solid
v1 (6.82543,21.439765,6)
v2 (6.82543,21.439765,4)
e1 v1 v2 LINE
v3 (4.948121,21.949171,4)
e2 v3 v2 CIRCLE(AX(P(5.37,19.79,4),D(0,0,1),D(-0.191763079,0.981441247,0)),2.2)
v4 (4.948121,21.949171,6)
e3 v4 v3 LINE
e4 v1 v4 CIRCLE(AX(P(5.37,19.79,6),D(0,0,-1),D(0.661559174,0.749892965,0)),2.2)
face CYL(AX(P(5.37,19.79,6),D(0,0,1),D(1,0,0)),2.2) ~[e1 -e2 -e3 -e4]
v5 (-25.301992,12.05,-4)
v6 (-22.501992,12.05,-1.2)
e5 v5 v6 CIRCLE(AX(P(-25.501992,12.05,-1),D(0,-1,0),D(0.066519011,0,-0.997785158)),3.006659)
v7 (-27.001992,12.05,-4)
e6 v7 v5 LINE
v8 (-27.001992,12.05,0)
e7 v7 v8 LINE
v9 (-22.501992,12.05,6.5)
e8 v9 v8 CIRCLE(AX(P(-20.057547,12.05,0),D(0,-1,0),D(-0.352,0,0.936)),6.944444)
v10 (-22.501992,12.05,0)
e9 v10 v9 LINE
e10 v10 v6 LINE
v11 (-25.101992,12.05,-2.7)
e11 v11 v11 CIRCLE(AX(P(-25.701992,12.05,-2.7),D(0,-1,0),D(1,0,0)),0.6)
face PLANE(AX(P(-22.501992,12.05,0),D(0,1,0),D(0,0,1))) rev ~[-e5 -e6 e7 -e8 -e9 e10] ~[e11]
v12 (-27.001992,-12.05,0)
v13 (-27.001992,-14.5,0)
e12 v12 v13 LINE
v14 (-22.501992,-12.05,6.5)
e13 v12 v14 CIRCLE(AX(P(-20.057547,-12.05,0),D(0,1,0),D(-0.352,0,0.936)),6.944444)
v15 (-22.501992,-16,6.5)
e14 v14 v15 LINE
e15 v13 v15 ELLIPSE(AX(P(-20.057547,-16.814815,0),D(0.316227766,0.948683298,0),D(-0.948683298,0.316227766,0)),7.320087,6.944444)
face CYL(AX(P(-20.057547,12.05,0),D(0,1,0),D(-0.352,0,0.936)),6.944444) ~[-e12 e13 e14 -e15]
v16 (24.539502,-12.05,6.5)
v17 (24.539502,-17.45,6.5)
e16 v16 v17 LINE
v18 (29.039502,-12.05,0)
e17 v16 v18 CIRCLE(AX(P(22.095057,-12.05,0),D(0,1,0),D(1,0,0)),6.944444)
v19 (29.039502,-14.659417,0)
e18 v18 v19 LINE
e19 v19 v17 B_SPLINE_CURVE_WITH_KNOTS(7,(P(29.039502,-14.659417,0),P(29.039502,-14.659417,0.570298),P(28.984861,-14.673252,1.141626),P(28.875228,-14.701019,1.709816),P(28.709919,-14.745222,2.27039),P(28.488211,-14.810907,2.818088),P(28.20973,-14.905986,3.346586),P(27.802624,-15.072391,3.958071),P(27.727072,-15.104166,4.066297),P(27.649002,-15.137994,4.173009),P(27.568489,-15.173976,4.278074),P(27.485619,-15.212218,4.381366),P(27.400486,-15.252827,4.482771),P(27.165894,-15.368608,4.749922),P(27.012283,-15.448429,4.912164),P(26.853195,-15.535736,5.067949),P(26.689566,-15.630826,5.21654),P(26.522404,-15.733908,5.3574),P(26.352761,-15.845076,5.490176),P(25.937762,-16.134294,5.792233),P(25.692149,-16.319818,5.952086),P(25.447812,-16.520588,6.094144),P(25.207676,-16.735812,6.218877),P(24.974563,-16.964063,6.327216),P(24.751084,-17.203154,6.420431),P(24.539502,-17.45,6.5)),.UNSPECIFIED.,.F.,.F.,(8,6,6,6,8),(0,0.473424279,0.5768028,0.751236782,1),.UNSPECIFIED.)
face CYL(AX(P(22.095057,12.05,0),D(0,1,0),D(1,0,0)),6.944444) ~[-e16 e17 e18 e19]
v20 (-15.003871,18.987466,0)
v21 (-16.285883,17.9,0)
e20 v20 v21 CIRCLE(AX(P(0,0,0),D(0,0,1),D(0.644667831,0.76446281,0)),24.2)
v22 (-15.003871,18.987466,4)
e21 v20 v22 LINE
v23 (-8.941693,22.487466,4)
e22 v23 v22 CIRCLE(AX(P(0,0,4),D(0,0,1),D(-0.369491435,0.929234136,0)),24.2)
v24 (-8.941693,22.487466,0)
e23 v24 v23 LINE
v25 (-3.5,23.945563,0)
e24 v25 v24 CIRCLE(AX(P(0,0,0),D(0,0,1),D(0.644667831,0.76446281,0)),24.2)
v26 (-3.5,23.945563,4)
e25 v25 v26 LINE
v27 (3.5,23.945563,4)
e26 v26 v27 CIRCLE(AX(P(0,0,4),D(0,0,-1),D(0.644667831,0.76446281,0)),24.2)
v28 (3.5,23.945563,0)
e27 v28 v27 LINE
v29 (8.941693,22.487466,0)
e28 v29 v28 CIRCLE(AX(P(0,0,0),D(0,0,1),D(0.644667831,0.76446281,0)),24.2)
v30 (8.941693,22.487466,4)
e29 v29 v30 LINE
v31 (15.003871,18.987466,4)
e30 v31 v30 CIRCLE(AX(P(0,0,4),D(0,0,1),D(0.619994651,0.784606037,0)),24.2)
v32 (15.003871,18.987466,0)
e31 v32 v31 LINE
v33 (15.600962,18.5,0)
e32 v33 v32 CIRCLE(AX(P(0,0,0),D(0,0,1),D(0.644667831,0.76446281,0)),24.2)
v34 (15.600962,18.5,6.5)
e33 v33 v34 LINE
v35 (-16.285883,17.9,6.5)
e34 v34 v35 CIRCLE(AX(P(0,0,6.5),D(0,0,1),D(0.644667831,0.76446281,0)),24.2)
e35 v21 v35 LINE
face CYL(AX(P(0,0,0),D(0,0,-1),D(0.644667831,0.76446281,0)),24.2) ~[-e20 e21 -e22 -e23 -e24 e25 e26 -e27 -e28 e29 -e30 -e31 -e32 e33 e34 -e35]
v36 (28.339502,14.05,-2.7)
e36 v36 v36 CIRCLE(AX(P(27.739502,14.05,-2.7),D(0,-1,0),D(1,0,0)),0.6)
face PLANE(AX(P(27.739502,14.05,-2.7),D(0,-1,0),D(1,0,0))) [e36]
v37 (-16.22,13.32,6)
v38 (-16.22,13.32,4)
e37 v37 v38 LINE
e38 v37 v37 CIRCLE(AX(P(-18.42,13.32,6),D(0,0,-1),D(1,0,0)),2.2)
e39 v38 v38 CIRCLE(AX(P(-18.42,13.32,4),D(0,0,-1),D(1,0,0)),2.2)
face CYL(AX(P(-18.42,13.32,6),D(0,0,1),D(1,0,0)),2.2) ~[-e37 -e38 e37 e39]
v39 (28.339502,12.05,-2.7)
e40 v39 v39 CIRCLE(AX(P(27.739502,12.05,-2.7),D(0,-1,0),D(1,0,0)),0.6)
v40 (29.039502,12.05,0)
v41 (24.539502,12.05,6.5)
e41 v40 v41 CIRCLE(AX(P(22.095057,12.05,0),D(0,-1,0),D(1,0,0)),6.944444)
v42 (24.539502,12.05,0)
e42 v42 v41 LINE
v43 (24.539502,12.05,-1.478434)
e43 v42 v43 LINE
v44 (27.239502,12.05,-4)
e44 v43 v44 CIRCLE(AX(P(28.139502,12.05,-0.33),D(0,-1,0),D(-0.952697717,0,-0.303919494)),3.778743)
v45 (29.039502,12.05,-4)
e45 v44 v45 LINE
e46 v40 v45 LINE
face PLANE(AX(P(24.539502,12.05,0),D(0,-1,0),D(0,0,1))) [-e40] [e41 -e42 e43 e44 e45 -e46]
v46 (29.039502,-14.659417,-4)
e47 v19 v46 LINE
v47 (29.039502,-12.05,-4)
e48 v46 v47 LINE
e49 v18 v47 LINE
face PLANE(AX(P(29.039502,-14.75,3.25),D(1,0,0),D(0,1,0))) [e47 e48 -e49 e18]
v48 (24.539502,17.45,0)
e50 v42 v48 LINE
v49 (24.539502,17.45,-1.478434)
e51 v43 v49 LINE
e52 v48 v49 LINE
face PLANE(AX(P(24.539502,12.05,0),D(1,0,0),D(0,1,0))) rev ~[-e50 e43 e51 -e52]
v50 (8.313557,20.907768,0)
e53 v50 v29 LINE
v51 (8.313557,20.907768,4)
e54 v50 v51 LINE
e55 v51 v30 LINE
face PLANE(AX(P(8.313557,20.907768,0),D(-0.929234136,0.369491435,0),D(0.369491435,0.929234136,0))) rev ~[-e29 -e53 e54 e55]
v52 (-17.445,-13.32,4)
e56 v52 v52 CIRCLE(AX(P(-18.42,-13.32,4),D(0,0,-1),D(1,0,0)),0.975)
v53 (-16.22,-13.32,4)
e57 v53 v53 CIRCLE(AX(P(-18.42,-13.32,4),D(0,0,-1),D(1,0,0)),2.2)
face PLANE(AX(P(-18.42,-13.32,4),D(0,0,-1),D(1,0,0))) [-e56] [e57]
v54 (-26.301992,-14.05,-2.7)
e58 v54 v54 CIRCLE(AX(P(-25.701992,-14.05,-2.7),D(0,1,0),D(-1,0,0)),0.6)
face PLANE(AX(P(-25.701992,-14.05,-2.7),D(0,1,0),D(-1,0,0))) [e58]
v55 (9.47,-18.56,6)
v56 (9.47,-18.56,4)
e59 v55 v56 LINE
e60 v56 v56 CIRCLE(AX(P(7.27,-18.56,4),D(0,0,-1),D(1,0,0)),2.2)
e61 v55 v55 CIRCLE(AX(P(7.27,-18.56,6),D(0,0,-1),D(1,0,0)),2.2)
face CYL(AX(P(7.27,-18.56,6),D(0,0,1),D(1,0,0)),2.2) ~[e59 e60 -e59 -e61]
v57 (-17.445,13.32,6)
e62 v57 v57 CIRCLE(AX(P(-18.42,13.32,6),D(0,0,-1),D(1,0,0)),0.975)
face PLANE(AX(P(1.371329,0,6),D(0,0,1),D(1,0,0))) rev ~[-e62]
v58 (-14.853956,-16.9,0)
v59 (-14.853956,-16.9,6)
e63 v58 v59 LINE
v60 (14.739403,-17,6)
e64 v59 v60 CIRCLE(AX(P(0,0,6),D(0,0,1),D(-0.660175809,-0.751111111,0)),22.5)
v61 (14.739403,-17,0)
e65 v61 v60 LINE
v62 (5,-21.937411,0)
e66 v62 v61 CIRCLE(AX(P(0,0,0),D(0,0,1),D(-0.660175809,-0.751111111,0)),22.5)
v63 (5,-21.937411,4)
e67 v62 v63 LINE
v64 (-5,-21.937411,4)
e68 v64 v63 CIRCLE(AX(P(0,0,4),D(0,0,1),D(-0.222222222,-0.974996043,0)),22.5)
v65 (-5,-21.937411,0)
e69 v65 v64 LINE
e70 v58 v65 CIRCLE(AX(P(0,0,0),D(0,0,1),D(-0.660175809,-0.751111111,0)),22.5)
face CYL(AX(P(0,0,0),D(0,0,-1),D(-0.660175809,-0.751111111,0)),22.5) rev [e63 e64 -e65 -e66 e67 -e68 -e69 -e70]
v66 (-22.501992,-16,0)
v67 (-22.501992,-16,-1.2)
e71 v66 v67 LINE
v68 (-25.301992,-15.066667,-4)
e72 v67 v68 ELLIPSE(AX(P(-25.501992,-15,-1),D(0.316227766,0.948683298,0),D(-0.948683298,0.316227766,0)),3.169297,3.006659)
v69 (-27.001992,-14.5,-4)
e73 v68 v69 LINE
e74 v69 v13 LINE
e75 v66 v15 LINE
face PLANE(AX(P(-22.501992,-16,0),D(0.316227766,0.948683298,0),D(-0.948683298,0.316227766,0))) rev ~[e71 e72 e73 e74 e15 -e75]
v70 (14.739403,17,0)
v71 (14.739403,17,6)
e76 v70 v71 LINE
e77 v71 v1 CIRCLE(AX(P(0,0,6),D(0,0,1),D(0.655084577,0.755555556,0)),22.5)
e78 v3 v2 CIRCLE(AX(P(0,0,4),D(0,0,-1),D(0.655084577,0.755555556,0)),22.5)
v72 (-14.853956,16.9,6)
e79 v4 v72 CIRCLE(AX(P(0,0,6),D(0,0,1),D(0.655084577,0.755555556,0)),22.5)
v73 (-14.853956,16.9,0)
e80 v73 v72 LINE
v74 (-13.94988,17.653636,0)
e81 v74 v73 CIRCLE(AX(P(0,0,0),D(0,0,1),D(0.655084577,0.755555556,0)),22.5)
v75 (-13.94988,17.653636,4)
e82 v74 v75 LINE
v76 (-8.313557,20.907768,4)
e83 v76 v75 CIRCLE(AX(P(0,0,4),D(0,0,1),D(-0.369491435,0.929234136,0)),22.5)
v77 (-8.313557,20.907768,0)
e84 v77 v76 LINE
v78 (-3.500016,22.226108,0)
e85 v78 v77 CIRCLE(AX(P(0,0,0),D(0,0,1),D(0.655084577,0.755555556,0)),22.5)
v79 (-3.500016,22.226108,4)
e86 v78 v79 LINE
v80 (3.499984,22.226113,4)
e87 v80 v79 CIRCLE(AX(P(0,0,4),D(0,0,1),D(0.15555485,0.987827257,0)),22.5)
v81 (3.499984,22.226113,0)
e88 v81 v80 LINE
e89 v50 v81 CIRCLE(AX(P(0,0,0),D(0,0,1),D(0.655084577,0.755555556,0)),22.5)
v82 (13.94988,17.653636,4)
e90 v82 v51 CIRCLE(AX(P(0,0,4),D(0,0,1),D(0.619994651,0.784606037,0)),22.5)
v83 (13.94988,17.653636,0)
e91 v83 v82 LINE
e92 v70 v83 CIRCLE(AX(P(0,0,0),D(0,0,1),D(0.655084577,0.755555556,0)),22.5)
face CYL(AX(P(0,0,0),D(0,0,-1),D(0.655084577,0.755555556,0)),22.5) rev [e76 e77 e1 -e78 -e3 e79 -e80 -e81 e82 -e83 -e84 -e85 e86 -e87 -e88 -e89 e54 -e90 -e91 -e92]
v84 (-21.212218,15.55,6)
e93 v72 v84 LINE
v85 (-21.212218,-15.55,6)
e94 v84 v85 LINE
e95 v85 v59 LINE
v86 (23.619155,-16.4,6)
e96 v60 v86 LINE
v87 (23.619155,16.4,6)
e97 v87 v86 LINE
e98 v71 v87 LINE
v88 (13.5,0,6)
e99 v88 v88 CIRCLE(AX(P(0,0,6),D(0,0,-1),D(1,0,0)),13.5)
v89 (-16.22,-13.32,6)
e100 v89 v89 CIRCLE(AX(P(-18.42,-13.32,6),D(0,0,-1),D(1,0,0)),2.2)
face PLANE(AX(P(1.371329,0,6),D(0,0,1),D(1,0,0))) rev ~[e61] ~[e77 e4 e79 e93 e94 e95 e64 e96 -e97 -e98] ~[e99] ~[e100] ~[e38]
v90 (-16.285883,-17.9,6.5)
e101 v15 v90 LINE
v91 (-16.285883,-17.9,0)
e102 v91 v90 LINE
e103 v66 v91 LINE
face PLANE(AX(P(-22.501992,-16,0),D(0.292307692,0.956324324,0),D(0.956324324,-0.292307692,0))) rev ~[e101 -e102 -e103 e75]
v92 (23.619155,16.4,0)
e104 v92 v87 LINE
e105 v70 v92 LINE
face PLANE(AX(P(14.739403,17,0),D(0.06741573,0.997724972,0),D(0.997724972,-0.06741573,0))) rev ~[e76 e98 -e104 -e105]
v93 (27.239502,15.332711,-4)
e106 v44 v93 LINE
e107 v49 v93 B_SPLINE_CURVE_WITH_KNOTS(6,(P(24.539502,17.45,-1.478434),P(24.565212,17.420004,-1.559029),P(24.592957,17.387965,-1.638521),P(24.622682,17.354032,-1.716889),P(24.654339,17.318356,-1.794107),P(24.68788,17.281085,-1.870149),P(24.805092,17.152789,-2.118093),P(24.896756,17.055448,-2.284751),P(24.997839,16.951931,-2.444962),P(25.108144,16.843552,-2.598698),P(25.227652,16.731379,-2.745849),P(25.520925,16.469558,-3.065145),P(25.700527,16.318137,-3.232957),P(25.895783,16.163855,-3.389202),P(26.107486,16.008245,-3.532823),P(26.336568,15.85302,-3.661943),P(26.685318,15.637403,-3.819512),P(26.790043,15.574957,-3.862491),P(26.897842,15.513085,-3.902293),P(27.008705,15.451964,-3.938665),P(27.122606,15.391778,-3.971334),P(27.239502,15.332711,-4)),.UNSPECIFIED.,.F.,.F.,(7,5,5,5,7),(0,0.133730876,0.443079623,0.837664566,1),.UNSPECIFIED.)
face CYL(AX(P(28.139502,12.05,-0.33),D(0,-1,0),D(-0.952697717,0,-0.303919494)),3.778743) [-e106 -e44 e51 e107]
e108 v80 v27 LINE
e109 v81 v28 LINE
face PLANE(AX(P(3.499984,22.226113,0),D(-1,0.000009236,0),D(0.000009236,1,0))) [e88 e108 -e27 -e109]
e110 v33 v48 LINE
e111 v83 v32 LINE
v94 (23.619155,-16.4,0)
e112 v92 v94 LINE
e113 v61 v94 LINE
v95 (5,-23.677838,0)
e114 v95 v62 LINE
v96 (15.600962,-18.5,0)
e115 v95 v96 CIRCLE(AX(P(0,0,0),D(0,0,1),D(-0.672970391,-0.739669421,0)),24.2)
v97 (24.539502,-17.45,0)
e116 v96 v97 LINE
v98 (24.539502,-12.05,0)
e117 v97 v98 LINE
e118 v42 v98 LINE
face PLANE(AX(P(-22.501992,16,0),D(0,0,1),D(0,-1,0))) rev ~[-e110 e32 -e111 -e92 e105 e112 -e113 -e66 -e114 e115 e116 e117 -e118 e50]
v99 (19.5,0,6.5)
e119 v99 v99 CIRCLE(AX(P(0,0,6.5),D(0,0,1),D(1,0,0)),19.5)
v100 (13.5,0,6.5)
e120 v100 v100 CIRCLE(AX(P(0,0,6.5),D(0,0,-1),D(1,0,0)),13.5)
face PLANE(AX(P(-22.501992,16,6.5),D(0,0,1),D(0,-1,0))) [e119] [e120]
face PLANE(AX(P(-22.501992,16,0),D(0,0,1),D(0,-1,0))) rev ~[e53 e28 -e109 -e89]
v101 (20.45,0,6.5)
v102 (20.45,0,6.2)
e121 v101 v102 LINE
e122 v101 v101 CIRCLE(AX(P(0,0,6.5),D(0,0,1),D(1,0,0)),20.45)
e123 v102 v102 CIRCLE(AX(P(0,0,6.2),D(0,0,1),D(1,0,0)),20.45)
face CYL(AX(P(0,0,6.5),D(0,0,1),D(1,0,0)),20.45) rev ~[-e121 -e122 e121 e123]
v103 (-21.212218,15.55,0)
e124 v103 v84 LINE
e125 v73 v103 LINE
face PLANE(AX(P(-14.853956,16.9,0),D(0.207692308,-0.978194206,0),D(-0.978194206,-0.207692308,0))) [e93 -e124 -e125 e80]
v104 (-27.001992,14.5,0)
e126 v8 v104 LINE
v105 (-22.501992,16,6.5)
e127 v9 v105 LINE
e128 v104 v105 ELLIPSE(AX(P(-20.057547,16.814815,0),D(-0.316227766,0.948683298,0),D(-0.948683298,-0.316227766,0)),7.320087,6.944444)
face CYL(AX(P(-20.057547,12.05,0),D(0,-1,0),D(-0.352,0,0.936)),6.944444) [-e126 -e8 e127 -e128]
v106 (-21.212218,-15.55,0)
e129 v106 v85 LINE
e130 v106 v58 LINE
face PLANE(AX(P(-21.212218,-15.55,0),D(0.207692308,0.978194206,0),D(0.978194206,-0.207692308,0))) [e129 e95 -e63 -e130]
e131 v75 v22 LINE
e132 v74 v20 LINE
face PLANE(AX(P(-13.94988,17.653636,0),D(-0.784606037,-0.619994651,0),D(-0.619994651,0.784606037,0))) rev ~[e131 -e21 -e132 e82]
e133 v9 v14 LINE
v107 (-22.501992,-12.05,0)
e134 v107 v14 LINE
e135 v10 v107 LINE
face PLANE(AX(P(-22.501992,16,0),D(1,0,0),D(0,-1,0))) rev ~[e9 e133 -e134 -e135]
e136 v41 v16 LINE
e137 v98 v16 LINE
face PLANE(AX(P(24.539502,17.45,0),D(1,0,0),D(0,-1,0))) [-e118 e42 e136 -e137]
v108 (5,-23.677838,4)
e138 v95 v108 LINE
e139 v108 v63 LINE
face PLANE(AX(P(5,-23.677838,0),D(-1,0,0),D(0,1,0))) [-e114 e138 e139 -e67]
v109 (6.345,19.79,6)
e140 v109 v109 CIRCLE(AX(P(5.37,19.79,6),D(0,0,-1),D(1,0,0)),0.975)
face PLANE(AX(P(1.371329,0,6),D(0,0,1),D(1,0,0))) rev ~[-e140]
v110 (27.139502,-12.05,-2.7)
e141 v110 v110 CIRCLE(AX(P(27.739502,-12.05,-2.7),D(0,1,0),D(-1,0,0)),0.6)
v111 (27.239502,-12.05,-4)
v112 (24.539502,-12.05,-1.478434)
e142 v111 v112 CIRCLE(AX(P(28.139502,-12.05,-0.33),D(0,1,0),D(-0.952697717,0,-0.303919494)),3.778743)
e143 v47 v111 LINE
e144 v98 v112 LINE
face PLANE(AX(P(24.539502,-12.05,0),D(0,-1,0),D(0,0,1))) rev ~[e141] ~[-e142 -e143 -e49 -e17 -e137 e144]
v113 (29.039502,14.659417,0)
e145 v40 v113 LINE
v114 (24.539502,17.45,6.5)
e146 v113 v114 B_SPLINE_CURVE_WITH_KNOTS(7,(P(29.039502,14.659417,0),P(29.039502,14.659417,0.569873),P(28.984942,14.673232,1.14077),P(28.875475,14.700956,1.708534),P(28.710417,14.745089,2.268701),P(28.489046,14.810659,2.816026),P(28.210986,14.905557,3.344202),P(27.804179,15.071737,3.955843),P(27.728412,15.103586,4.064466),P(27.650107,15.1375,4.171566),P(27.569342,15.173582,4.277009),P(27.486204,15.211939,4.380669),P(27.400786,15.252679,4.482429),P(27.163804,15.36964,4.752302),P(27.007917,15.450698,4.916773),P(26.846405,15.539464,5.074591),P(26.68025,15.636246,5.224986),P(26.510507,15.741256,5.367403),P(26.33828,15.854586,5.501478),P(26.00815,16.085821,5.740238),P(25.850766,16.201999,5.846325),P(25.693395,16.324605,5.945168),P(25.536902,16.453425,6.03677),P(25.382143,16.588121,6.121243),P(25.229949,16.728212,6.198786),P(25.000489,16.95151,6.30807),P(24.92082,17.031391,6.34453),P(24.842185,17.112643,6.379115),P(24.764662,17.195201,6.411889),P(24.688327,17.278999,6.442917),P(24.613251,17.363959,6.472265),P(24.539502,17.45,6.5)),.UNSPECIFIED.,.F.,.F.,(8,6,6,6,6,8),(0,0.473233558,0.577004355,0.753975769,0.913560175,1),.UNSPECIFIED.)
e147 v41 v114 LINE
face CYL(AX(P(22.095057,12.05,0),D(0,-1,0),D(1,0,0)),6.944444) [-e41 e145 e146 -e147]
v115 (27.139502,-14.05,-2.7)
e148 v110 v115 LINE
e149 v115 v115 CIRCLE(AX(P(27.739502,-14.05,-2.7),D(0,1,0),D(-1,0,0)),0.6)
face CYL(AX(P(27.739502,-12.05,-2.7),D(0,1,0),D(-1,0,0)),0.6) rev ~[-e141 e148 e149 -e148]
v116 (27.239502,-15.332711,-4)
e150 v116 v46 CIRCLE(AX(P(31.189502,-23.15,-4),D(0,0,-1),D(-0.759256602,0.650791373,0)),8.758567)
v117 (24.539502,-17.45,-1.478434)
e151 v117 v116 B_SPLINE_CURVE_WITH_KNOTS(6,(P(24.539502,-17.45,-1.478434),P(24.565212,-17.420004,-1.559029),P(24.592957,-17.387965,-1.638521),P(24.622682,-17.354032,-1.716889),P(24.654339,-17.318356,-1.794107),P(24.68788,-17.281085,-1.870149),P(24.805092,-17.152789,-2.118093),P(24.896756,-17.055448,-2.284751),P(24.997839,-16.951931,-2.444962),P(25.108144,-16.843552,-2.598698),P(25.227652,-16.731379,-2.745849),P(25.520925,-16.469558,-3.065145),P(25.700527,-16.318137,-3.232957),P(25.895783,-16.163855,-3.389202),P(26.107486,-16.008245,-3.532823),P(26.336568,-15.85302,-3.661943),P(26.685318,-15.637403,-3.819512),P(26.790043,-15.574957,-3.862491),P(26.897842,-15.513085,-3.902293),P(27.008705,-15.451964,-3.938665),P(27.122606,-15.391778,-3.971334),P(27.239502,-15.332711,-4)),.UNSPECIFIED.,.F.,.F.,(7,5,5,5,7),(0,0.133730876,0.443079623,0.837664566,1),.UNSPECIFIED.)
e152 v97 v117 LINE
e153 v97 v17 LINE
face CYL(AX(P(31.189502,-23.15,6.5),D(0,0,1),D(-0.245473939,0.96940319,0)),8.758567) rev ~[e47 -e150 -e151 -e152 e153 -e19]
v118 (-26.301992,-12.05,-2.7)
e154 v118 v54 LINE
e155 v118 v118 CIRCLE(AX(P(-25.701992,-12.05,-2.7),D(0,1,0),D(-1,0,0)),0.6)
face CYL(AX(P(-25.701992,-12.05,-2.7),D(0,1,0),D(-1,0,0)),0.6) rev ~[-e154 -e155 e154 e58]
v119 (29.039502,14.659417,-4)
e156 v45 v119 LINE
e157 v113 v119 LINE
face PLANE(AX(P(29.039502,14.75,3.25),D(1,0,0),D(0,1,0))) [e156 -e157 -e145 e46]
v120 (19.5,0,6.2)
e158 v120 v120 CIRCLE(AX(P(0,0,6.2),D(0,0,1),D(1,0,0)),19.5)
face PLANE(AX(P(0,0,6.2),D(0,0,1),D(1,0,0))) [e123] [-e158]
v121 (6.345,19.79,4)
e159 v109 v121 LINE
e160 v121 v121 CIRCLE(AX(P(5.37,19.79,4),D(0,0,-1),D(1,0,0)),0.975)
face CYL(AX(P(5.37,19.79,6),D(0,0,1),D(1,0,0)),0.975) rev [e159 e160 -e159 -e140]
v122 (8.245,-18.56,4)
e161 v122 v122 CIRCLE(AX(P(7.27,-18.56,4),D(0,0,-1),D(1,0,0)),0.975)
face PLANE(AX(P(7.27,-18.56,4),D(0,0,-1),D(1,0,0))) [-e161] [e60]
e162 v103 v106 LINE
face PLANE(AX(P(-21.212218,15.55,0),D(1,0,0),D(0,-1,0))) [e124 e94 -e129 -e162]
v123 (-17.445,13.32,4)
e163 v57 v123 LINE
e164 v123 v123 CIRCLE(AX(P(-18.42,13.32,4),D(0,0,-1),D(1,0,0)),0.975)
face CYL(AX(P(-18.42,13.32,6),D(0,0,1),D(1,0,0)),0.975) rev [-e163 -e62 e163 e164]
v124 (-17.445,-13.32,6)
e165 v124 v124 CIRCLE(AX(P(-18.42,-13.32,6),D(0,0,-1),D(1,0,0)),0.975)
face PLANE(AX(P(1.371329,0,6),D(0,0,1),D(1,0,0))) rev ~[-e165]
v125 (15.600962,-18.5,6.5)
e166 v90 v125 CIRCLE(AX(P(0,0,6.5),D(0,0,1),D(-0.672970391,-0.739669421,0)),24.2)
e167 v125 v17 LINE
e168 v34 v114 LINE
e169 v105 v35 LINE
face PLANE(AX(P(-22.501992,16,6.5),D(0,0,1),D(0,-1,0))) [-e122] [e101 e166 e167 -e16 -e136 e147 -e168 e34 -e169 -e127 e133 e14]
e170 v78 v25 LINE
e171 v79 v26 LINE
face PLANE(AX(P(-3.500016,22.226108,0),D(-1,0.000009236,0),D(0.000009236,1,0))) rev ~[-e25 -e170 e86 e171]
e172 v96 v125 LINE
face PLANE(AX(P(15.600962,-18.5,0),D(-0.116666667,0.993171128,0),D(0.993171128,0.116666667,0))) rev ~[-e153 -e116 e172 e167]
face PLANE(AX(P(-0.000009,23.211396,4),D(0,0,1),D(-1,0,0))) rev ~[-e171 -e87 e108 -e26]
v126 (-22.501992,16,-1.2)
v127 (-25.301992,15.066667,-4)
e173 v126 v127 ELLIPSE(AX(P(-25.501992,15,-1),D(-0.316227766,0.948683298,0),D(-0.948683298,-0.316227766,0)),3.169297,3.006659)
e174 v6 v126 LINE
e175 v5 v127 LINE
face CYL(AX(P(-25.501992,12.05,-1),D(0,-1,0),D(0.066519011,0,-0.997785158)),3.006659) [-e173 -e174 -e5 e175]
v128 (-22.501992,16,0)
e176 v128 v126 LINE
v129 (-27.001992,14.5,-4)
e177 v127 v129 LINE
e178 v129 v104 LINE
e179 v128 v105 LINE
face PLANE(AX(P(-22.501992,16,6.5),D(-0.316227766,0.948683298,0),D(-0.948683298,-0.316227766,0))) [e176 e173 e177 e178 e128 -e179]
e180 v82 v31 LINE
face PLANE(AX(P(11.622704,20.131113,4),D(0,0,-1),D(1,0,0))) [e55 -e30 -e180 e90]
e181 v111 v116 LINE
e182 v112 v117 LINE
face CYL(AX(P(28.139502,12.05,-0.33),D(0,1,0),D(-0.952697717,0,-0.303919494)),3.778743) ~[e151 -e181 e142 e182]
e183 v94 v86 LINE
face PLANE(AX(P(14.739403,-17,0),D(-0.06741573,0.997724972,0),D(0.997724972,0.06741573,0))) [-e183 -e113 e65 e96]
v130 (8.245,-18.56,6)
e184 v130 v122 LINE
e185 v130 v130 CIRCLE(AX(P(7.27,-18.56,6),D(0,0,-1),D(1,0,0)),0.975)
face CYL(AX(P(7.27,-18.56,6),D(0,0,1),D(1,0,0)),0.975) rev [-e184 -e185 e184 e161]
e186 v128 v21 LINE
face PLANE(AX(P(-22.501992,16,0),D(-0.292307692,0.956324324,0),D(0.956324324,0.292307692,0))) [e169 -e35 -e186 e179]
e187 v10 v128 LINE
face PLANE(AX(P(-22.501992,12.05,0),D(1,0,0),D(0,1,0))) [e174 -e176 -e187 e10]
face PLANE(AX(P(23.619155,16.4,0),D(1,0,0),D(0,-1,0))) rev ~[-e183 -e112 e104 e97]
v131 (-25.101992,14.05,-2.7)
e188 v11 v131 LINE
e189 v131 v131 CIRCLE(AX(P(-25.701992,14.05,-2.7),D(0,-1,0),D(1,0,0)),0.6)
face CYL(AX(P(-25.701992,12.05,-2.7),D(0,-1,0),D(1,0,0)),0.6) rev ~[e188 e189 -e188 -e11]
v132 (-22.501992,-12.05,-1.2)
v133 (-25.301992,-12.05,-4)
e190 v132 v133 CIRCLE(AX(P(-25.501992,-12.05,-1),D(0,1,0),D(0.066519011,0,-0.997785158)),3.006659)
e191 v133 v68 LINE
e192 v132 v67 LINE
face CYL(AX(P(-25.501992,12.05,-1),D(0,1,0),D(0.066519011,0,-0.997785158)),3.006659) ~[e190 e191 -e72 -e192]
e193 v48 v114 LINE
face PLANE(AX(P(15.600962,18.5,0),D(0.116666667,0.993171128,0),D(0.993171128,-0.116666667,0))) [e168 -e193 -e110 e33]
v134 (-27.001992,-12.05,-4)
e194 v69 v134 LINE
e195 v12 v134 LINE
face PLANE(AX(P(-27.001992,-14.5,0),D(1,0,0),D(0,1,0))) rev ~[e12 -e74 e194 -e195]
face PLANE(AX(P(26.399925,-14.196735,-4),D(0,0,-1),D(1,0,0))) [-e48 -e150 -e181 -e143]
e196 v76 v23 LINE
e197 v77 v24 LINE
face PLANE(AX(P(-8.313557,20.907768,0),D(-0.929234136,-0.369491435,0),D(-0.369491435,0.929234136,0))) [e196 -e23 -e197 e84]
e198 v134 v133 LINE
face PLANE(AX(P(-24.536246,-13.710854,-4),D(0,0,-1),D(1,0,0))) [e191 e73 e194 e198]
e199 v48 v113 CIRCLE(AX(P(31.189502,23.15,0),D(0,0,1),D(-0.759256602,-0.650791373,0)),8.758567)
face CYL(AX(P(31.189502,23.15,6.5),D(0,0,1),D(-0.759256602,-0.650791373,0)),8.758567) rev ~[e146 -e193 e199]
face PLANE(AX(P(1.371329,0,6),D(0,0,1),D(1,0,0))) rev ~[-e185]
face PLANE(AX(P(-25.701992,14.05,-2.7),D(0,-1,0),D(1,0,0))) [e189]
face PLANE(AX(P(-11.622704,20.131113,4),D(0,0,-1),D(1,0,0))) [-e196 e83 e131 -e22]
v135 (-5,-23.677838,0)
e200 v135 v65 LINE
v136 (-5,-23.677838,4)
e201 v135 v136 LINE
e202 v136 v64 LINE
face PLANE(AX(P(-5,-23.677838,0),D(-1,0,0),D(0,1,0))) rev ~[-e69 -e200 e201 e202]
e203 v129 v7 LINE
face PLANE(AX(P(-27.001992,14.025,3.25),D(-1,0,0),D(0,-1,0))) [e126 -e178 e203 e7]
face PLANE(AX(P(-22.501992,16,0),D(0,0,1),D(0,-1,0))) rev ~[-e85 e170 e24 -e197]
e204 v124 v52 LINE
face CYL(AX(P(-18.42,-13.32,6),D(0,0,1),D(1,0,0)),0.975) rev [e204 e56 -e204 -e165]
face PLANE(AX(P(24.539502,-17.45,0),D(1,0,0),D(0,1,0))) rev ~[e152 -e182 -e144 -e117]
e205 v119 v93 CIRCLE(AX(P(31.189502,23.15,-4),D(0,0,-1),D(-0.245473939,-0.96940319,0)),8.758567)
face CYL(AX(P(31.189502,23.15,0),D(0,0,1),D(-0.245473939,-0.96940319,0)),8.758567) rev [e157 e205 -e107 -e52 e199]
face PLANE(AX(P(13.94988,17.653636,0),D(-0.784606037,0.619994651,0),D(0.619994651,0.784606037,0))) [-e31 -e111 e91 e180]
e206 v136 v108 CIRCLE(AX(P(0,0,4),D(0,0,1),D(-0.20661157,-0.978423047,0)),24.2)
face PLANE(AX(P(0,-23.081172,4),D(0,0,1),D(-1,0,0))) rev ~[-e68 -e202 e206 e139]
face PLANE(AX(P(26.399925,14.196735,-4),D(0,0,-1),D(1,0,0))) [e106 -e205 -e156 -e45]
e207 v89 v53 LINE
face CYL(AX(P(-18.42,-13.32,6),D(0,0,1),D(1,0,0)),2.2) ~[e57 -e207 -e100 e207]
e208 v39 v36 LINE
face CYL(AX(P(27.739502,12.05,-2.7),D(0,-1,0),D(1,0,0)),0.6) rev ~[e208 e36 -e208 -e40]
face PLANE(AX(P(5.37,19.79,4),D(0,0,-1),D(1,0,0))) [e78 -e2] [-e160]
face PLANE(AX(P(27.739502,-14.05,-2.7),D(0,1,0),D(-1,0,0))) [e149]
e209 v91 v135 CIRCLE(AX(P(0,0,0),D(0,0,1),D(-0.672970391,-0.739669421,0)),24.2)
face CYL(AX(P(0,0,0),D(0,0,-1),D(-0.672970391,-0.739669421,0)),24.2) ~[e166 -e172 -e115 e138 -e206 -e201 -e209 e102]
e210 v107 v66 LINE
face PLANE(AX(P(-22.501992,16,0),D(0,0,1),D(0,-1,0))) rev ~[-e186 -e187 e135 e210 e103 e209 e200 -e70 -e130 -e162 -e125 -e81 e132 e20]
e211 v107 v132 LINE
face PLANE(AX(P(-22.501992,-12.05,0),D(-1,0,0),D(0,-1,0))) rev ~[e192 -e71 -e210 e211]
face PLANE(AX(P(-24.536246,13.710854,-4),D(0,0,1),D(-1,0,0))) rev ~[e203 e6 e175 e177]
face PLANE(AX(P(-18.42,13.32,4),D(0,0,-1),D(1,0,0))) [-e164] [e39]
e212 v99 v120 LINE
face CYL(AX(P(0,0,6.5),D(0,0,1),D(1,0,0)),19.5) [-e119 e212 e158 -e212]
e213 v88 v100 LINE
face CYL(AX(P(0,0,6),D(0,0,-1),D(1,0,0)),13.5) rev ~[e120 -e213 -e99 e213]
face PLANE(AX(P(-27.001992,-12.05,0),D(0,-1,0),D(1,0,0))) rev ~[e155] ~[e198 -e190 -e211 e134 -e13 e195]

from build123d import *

# Parameters (mm, degrees)
PAD_DEPTH            = 6.5
POCKET_DEPTH         = 6
SKETCH002_R          = 13.5
POCKET001_DEPTH      = 1
SKETCH003_W          = 5.4
SKETCH003_H          = 6.5
PAD001_DEPTH         = 4.5
POCKET002_DEPTH      = 10
SKETCH010_W          = 3.95
SKETCH010_H          = 6.5
PAD002_DEPTH         = 4.5
POCKET005_DEPTH      = 10
SKETCH014_R          = 20.45
SKETCH014_R_2        = 19.5
POCKET008_DEPTH      = 0.3
SKETCH015_R          = 2.2
SKETCH015_R_2        = 0.975
PAD003_DEPTH         = 2
POCKET009_DEPTH      = 4
POCKET010_DEPTH      = 4
PAD004_DEPTH         = 4
SKETCH019_R          = 0.6
POCKET011_DEPTH      = 2
SKETCH020_R          = 0.6
POCKET012_DEPTH      = 2
POCKET013_DEPTH      = 12.151
POCKET013_DEPTH_BACK = 36.251


with BuildPart() as part:
    # Sketch → Pad (new body)
    with BuildSketch(Plane.XY):
        with BuildLine():
            Line((-22.5019915649, 16), (-22.5019915649, -16))
            Line((-22.5019915649, -16), (-16.2858834578, -17.9))
            ThreePointArc((-16.2858834578, -17.9), (-0.4552796053, -24.1957169863), (15.6009615088, -18.5))
            Line((15.6009615088, -18.5), (24.5395016581, -17.45))
            Line((24.5395016581, 17.45), (24.5395016581, -17.45))
            Line((15.6009615088, 18.5), (24.5395016581, 17.45))
            ThreePointArc((15.6009615088, 18.5), (-0.4552796053, 24.1957169863), (-16.2858834578, 17.9))
            Line((-22.5019915649, 16), (-16.2858834578, 17.9))
        make_face()
    extrude(amount=PAD_DEPTH)

    # Sketch001 → Pocket (cut)
    with BuildSketch(Plane.XY):
        with BuildLine():
            Line((-14.8539557021, 16.9), (-21.2122180433, 15.55))
            Line((-21.2122180433, 15.55), (-21.2122180433, -15.55))
            Line((-21.2122180433, -15.55), (-14.8539557021, -16.9))
            ThreePointArc((-14.8539557021, -16.9), (-0.0760301383, -22.4998715423), (14.739402973, -17))
            Line((14.739402973, -17), (23.6191552218, -16.4))
            Line((23.6191552218, 16.4), (23.6191552218, -16.4))
            Line((14.739402973, 17), (23.6191552218, 16.4))
            ThreePointArc((14.739402973, 17), (-0.0760301383, 22.4998715423), (-14.8539557021, 16.9))
        make_face()
    extrude(amount=POCKET_DEPTH, mode=Mode.SUBTRACT)

    # Sketch002 (on Face19 of Pocket) → Pocket001 (cut)
    with BuildSketch(Plane(origin=(0, 0, 6), x_dir=(1, 0, 0), z_dir=(0, 0, -1))):
        Circle(SKETCH002_R)
    extrude(amount=-POCKET001_DEPTH, mode=Mode.SUBTRACT)

    # Sketch003 (on Face7 of Pad) → Pad001 (join)
    with BuildSketch(Plane.YZ.offset(24.5395016581)):
        with Locations((-14.75, 3.25)):
            Rectangle(SKETCH003_W, SKETCH003_H)
        with Locations((14.75, 3.25)):
            Rectangle(SKETCH003_W, SKETCH003_H)
    extrude(amount=PAD001_DEPTH)

    # Sketch006 (on Face22 of Pad001) → Pocket002 (cut)
    with BuildSketch(Plane.XY.offset(6.5)):
        with BuildLine():
            ThreePointArc((24.5395016581, 17.45), (26.5735685567, 15.7065020586), (29.0395016581, 14.6594169812))
            Line((29.0395016581, 17.45), (29.0395016581, 14.6594169812))
            Line((29.0395016581, 17.45), (24.5395016581, 17.45))
        make_face()
        with BuildLine():
            ThreePointArc((29.0395016581, -14.6594169811), (26.5735685567, -15.7065020586), (24.5395016581, -17.45))
            Line((29.0395016581, -17.45), (24.5395016581, -17.45))
            Line((29.0395016581, -14.6594169811), (29.0395016581, -17.45))
        make_face()
    extrude(amount=-POCKET002_DEPTH, mode=Mode.SUBTRACT)

    # Sketch010 (on Face3 of Pad) → Pad002 (join)
    with BuildSketch(Plane(origin=(-22.5019915649, 0, 0), x_dir=(0, -1, 0), z_dir=(-1, 0, 0))):
        with Locations((-14.025, 3.25)):
            Rectangle(SKETCH010_W, SKETCH010_H)
        with Locations((14.025, 3.25)):
            Rectangle(SKETCH010_W, SKETCH010_H)
    extrude(amount=PAD002_DEPTH)

    # Sketch011 (on Face28 of Pad002) → Pocket005 (cut)
    with BuildSketch(Plane.XY.offset(6.5)):
        Polygon((-27.0019915649, 16), (-22.5019915649, 16), (-27.0019915649, 14.5), align=None)
        Polygon((-22.5019915649, -16), (-27.0019915649, -14.5), (-27.0019915649, -16), align=None)
    extrude(amount=-POCKET005_DEPTH, mode=Mode.SUBTRACT)

    # Sketch014 (on Face10 of Pad) → Pocket008 (cut)
    with BuildSketch(Plane.XY.offset(6.5)):
        Circle(SKETCH014_R)
        Circle(SKETCH014_R_2, mode=Mode.SUBTRACT)
    extrude(amount=-POCKET008_DEPTH, mode=Mode.SUBTRACT)

    # Sketch015 (on Face19 of Pocket) → Pad003 (join)
    with BuildSketch(Plane(origin=(0, 0, 6), x_dir=(1, 0, 0), z_dir=(0, 0, -1))):
        with Locations((-18.42, 13.32)):
            Circle(SKETCH015_R)
        with Locations((-18.42, 13.32)):
            Circle(SKETCH015_R_2, mode=Mode.SUBTRACT)
        with Locations((7.27, 18.56)):
            Circle(SKETCH015_R)
        with Locations((7.27, 18.56)):
            Circle(SKETCH015_R_2, mode=Mode.SUBTRACT)
        with Locations((5.37, -19.79)):
            Circle(SKETCH015_R)
        with Locations((5.37, -19.79)):
            Circle(SKETCH015_R_2, mode=Mode.SUBTRACT)
        with Locations((-18.42, -13.32)):
            Circle(SKETCH015_R)
        with Locations((-18.42, -13.32)):
            Circle(SKETCH015_R_2, mode=Mode.SUBTRACT)
    extrude(amount=PAD003_DEPTH)

    # Sketch016 → Pocket009 (cut)
    with BuildSketch(Plane(origin=(0, 0, 0), x_dir=(-1, 0, 0), z_dir=(0, 0, 1))):
        with BuildLine():
            Line((-5, 23.6778377391), (-5, 21.9374109685))
            ThreePointArc((5, 21.9374109685), (0, 22.5), (-5, 21.9374109685))
            Line((5, 23.6778377391), (5, 21.9374109685))
            ThreePointArc((5, 23.6778377391), (0, 24.2), (-5, 23.6778377391))
        make_face()
    extrude(amount=POCKET009_DEPTH, mode=Mode.SUBTRACT)

    # Sketch017 → Pocket010 (cut)
    with BuildSketch(Plane(origin=(0, 0, 0), x_dir=(-1, 0, 0), z_dir=(0, 0, 1))):
        with BuildLine():
            Line((-3.499984119, -22.2261132717), (-3.5, -23.9455632634))
            ThreePointArc((-3.5, -23.9455632634), (0, -24.2000019575), (3.5, -23.9455632634))
            Line((3.5000158811, -22.2261082701), (3.5, -23.9455632634))
            ThreePointArc((-3.499984119, -22.2261132717), (1.60767e-05, -22.5), (3.5000158811, -22.2261082701))
        make_face()
        with BuildLine():
            ThreePointArc((-13.9498796389, -17.6536358312), (-11.25, -19.4855715851), (-8.3135572795, -20.9077680626))
            Line((-8.3135572795, -20.9077680626), (-8.9416927184, -22.487466094))
            ThreePointArc((-15.0038705449, -18.987466094), (-12.1, -20.9578147716), (-8.9416927184, -22.487466094))
            Line((-13.9498796389, -17.6536358312), (-15.0038705449, -18.987466094))
        make_face()
        with BuildLine():
            ThreePointArc((8.3135572795, -20.9077680626), (11.25, -19.4855715851), (13.9498796389, -17.6536358312))
            Line((13.9498796389, -17.6536358312), (15.0038705449, -18.987466094))
            ThreePointArc((8.9416927184, -22.487466094), (12.1, -20.9578147716), (15.0038705449, -18.987466094))
            Line((8.3135572795, -20.9077680626), (8.9416927184, -22.487466094))
        make_face()
    extrude(amount=POCKET010_DEPTH, mode=Mode.SUBTRACT)

    # Sketch018 (on Face8 of Pocket005) → Pad004 (join)
    with BuildSketch(Plane(origin=(0, 0, 0), x_dir=(1, 0, 0), z_dir=(0, 0, -1))):
        Polygon((-27.0019915649, 14.5), (-27.0019915649, 12.05), (-22.5019915649, 12.05), (-22.5019915649, 16), align=None)
        Polygon((-27.0019915649, -12.05), (-22.5019915649, -12.05), (-22.5019915649, -16), (-27.0019915649, -14.5), align=None)
        with BuildLine():
            Line((24.5395016581, 17.45), (24.5395016581, 12.05))
            Line((29.0395016581, 12.05), (24.5395016581, 12.05))
            Line((29.0395016581, 14.6594169811), (29.0395016581, 12.05))
            ThreePointArc((24.5395016581, 17.45), (26.5735685567, 15.7065020586), (29.0395016581, 14.6594169811))
        make_face()
        with BuildLine():
            Line((24.5395016581, -12.05), (24.5395016581, -17.45))
            ThreePointArc((29.0395016581, -14.6594169811), (26.5735685568, -15.7065020586), (24.5395016581, -17.45))
            Line((29.0395016581, -12.05), (29.0395016581, -14.6594169812))
            Line((24.5395016581, -12.05), (29.0395016581, -12.05))
        make_face()
    extrude(amount=PAD004_DEPTH)

    # Sketch019 (on Face64 of Pad004) → Pocket011 (cut)
    with BuildSketch(Plane.XZ.offset(-12.05)):
        with Locations((27.7395016581, -2.7)):
            Circle(SKETCH019_R)
        with Locations((-25.7019915649, -2.7)):
            Circle(SKETCH019_R)
    extrude(amount=-POCKET011_DEPTH, mode=Mode.SUBTRACT)

    # Sketch020 (on Face50 of Pocket011) → Pocket012 (cut)
    with BuildSketch(Plane(origin=(0, -12.05, 0), x_dir=(-1, 0, 0), z_dir=(0, 1, 0))):
        with Locations((-27.7395016581, -2.7)):
            Circle(SKETCH020_R)
        with Locations((25.7019915649, -2.7)):
            Circle(SKETCH020_R)
    extrude(amount=-POCKET012_DEPTH, mode=Mode.SUBTRACT)

    # Sketch021 (on Face48 of Pocket012) → Pocket013 (cut, two sides)
    with BuildSketch(Plane.XZ.offset(-12.05)) as pocket013_sk:
        with BuildLine():
            ThreePointArc((29.0395016581, 0), (27.8047252112, 3.9528470752), (24.5395016581, 6.5))
            Line((24.5395016581, 6.5), (29.0395016581, 6.5))
            Line((29.0395016581, 6.5), (29.0395016581, 0))
        make_face()
        with BuildLine():
            ThreePointArc((24.5395016581, -1.478433716), (25.560340141, -3.0916708473), (27.2395016581, -4))
            Line((24.5395016581, -4), (27.2395016581, -4))
            Line((24.5395016581, -1.478433716), (24.5395016581, -4))
        make_face()
        with BuildLine():
            ThreePointArc((-22.5019915649, 6.5), (-25.767215118, 3.9528470752), (-27.0019915649, 0))
            Line((-27.0019915649, 6.5), (-27.0019915649, 0))
            Line((-22.5019915649, 6.5), (-27.0019915649, 6.5))
        make_face()
        with BuildLine():
            ThreePointArc((-25.3019915649, -4), (-23.3759624024, -3.1260291625), (-22.5019915649, -1.2))
            Line((-22.5019915649, -1.2), (-22.5019915649, -4))
            Line((-22.5019915649, -4), (-25.3019915649, -4))
        make_face()
    extrude(amount=-POCKET013_DEPTH, mode=Mode.SUBTRACT)
    extrude(pocket013_sk.sketch, amount=POCKET013_DEPTH_BACK, mode=Mode.SUBTRACT)


solid = part.part
